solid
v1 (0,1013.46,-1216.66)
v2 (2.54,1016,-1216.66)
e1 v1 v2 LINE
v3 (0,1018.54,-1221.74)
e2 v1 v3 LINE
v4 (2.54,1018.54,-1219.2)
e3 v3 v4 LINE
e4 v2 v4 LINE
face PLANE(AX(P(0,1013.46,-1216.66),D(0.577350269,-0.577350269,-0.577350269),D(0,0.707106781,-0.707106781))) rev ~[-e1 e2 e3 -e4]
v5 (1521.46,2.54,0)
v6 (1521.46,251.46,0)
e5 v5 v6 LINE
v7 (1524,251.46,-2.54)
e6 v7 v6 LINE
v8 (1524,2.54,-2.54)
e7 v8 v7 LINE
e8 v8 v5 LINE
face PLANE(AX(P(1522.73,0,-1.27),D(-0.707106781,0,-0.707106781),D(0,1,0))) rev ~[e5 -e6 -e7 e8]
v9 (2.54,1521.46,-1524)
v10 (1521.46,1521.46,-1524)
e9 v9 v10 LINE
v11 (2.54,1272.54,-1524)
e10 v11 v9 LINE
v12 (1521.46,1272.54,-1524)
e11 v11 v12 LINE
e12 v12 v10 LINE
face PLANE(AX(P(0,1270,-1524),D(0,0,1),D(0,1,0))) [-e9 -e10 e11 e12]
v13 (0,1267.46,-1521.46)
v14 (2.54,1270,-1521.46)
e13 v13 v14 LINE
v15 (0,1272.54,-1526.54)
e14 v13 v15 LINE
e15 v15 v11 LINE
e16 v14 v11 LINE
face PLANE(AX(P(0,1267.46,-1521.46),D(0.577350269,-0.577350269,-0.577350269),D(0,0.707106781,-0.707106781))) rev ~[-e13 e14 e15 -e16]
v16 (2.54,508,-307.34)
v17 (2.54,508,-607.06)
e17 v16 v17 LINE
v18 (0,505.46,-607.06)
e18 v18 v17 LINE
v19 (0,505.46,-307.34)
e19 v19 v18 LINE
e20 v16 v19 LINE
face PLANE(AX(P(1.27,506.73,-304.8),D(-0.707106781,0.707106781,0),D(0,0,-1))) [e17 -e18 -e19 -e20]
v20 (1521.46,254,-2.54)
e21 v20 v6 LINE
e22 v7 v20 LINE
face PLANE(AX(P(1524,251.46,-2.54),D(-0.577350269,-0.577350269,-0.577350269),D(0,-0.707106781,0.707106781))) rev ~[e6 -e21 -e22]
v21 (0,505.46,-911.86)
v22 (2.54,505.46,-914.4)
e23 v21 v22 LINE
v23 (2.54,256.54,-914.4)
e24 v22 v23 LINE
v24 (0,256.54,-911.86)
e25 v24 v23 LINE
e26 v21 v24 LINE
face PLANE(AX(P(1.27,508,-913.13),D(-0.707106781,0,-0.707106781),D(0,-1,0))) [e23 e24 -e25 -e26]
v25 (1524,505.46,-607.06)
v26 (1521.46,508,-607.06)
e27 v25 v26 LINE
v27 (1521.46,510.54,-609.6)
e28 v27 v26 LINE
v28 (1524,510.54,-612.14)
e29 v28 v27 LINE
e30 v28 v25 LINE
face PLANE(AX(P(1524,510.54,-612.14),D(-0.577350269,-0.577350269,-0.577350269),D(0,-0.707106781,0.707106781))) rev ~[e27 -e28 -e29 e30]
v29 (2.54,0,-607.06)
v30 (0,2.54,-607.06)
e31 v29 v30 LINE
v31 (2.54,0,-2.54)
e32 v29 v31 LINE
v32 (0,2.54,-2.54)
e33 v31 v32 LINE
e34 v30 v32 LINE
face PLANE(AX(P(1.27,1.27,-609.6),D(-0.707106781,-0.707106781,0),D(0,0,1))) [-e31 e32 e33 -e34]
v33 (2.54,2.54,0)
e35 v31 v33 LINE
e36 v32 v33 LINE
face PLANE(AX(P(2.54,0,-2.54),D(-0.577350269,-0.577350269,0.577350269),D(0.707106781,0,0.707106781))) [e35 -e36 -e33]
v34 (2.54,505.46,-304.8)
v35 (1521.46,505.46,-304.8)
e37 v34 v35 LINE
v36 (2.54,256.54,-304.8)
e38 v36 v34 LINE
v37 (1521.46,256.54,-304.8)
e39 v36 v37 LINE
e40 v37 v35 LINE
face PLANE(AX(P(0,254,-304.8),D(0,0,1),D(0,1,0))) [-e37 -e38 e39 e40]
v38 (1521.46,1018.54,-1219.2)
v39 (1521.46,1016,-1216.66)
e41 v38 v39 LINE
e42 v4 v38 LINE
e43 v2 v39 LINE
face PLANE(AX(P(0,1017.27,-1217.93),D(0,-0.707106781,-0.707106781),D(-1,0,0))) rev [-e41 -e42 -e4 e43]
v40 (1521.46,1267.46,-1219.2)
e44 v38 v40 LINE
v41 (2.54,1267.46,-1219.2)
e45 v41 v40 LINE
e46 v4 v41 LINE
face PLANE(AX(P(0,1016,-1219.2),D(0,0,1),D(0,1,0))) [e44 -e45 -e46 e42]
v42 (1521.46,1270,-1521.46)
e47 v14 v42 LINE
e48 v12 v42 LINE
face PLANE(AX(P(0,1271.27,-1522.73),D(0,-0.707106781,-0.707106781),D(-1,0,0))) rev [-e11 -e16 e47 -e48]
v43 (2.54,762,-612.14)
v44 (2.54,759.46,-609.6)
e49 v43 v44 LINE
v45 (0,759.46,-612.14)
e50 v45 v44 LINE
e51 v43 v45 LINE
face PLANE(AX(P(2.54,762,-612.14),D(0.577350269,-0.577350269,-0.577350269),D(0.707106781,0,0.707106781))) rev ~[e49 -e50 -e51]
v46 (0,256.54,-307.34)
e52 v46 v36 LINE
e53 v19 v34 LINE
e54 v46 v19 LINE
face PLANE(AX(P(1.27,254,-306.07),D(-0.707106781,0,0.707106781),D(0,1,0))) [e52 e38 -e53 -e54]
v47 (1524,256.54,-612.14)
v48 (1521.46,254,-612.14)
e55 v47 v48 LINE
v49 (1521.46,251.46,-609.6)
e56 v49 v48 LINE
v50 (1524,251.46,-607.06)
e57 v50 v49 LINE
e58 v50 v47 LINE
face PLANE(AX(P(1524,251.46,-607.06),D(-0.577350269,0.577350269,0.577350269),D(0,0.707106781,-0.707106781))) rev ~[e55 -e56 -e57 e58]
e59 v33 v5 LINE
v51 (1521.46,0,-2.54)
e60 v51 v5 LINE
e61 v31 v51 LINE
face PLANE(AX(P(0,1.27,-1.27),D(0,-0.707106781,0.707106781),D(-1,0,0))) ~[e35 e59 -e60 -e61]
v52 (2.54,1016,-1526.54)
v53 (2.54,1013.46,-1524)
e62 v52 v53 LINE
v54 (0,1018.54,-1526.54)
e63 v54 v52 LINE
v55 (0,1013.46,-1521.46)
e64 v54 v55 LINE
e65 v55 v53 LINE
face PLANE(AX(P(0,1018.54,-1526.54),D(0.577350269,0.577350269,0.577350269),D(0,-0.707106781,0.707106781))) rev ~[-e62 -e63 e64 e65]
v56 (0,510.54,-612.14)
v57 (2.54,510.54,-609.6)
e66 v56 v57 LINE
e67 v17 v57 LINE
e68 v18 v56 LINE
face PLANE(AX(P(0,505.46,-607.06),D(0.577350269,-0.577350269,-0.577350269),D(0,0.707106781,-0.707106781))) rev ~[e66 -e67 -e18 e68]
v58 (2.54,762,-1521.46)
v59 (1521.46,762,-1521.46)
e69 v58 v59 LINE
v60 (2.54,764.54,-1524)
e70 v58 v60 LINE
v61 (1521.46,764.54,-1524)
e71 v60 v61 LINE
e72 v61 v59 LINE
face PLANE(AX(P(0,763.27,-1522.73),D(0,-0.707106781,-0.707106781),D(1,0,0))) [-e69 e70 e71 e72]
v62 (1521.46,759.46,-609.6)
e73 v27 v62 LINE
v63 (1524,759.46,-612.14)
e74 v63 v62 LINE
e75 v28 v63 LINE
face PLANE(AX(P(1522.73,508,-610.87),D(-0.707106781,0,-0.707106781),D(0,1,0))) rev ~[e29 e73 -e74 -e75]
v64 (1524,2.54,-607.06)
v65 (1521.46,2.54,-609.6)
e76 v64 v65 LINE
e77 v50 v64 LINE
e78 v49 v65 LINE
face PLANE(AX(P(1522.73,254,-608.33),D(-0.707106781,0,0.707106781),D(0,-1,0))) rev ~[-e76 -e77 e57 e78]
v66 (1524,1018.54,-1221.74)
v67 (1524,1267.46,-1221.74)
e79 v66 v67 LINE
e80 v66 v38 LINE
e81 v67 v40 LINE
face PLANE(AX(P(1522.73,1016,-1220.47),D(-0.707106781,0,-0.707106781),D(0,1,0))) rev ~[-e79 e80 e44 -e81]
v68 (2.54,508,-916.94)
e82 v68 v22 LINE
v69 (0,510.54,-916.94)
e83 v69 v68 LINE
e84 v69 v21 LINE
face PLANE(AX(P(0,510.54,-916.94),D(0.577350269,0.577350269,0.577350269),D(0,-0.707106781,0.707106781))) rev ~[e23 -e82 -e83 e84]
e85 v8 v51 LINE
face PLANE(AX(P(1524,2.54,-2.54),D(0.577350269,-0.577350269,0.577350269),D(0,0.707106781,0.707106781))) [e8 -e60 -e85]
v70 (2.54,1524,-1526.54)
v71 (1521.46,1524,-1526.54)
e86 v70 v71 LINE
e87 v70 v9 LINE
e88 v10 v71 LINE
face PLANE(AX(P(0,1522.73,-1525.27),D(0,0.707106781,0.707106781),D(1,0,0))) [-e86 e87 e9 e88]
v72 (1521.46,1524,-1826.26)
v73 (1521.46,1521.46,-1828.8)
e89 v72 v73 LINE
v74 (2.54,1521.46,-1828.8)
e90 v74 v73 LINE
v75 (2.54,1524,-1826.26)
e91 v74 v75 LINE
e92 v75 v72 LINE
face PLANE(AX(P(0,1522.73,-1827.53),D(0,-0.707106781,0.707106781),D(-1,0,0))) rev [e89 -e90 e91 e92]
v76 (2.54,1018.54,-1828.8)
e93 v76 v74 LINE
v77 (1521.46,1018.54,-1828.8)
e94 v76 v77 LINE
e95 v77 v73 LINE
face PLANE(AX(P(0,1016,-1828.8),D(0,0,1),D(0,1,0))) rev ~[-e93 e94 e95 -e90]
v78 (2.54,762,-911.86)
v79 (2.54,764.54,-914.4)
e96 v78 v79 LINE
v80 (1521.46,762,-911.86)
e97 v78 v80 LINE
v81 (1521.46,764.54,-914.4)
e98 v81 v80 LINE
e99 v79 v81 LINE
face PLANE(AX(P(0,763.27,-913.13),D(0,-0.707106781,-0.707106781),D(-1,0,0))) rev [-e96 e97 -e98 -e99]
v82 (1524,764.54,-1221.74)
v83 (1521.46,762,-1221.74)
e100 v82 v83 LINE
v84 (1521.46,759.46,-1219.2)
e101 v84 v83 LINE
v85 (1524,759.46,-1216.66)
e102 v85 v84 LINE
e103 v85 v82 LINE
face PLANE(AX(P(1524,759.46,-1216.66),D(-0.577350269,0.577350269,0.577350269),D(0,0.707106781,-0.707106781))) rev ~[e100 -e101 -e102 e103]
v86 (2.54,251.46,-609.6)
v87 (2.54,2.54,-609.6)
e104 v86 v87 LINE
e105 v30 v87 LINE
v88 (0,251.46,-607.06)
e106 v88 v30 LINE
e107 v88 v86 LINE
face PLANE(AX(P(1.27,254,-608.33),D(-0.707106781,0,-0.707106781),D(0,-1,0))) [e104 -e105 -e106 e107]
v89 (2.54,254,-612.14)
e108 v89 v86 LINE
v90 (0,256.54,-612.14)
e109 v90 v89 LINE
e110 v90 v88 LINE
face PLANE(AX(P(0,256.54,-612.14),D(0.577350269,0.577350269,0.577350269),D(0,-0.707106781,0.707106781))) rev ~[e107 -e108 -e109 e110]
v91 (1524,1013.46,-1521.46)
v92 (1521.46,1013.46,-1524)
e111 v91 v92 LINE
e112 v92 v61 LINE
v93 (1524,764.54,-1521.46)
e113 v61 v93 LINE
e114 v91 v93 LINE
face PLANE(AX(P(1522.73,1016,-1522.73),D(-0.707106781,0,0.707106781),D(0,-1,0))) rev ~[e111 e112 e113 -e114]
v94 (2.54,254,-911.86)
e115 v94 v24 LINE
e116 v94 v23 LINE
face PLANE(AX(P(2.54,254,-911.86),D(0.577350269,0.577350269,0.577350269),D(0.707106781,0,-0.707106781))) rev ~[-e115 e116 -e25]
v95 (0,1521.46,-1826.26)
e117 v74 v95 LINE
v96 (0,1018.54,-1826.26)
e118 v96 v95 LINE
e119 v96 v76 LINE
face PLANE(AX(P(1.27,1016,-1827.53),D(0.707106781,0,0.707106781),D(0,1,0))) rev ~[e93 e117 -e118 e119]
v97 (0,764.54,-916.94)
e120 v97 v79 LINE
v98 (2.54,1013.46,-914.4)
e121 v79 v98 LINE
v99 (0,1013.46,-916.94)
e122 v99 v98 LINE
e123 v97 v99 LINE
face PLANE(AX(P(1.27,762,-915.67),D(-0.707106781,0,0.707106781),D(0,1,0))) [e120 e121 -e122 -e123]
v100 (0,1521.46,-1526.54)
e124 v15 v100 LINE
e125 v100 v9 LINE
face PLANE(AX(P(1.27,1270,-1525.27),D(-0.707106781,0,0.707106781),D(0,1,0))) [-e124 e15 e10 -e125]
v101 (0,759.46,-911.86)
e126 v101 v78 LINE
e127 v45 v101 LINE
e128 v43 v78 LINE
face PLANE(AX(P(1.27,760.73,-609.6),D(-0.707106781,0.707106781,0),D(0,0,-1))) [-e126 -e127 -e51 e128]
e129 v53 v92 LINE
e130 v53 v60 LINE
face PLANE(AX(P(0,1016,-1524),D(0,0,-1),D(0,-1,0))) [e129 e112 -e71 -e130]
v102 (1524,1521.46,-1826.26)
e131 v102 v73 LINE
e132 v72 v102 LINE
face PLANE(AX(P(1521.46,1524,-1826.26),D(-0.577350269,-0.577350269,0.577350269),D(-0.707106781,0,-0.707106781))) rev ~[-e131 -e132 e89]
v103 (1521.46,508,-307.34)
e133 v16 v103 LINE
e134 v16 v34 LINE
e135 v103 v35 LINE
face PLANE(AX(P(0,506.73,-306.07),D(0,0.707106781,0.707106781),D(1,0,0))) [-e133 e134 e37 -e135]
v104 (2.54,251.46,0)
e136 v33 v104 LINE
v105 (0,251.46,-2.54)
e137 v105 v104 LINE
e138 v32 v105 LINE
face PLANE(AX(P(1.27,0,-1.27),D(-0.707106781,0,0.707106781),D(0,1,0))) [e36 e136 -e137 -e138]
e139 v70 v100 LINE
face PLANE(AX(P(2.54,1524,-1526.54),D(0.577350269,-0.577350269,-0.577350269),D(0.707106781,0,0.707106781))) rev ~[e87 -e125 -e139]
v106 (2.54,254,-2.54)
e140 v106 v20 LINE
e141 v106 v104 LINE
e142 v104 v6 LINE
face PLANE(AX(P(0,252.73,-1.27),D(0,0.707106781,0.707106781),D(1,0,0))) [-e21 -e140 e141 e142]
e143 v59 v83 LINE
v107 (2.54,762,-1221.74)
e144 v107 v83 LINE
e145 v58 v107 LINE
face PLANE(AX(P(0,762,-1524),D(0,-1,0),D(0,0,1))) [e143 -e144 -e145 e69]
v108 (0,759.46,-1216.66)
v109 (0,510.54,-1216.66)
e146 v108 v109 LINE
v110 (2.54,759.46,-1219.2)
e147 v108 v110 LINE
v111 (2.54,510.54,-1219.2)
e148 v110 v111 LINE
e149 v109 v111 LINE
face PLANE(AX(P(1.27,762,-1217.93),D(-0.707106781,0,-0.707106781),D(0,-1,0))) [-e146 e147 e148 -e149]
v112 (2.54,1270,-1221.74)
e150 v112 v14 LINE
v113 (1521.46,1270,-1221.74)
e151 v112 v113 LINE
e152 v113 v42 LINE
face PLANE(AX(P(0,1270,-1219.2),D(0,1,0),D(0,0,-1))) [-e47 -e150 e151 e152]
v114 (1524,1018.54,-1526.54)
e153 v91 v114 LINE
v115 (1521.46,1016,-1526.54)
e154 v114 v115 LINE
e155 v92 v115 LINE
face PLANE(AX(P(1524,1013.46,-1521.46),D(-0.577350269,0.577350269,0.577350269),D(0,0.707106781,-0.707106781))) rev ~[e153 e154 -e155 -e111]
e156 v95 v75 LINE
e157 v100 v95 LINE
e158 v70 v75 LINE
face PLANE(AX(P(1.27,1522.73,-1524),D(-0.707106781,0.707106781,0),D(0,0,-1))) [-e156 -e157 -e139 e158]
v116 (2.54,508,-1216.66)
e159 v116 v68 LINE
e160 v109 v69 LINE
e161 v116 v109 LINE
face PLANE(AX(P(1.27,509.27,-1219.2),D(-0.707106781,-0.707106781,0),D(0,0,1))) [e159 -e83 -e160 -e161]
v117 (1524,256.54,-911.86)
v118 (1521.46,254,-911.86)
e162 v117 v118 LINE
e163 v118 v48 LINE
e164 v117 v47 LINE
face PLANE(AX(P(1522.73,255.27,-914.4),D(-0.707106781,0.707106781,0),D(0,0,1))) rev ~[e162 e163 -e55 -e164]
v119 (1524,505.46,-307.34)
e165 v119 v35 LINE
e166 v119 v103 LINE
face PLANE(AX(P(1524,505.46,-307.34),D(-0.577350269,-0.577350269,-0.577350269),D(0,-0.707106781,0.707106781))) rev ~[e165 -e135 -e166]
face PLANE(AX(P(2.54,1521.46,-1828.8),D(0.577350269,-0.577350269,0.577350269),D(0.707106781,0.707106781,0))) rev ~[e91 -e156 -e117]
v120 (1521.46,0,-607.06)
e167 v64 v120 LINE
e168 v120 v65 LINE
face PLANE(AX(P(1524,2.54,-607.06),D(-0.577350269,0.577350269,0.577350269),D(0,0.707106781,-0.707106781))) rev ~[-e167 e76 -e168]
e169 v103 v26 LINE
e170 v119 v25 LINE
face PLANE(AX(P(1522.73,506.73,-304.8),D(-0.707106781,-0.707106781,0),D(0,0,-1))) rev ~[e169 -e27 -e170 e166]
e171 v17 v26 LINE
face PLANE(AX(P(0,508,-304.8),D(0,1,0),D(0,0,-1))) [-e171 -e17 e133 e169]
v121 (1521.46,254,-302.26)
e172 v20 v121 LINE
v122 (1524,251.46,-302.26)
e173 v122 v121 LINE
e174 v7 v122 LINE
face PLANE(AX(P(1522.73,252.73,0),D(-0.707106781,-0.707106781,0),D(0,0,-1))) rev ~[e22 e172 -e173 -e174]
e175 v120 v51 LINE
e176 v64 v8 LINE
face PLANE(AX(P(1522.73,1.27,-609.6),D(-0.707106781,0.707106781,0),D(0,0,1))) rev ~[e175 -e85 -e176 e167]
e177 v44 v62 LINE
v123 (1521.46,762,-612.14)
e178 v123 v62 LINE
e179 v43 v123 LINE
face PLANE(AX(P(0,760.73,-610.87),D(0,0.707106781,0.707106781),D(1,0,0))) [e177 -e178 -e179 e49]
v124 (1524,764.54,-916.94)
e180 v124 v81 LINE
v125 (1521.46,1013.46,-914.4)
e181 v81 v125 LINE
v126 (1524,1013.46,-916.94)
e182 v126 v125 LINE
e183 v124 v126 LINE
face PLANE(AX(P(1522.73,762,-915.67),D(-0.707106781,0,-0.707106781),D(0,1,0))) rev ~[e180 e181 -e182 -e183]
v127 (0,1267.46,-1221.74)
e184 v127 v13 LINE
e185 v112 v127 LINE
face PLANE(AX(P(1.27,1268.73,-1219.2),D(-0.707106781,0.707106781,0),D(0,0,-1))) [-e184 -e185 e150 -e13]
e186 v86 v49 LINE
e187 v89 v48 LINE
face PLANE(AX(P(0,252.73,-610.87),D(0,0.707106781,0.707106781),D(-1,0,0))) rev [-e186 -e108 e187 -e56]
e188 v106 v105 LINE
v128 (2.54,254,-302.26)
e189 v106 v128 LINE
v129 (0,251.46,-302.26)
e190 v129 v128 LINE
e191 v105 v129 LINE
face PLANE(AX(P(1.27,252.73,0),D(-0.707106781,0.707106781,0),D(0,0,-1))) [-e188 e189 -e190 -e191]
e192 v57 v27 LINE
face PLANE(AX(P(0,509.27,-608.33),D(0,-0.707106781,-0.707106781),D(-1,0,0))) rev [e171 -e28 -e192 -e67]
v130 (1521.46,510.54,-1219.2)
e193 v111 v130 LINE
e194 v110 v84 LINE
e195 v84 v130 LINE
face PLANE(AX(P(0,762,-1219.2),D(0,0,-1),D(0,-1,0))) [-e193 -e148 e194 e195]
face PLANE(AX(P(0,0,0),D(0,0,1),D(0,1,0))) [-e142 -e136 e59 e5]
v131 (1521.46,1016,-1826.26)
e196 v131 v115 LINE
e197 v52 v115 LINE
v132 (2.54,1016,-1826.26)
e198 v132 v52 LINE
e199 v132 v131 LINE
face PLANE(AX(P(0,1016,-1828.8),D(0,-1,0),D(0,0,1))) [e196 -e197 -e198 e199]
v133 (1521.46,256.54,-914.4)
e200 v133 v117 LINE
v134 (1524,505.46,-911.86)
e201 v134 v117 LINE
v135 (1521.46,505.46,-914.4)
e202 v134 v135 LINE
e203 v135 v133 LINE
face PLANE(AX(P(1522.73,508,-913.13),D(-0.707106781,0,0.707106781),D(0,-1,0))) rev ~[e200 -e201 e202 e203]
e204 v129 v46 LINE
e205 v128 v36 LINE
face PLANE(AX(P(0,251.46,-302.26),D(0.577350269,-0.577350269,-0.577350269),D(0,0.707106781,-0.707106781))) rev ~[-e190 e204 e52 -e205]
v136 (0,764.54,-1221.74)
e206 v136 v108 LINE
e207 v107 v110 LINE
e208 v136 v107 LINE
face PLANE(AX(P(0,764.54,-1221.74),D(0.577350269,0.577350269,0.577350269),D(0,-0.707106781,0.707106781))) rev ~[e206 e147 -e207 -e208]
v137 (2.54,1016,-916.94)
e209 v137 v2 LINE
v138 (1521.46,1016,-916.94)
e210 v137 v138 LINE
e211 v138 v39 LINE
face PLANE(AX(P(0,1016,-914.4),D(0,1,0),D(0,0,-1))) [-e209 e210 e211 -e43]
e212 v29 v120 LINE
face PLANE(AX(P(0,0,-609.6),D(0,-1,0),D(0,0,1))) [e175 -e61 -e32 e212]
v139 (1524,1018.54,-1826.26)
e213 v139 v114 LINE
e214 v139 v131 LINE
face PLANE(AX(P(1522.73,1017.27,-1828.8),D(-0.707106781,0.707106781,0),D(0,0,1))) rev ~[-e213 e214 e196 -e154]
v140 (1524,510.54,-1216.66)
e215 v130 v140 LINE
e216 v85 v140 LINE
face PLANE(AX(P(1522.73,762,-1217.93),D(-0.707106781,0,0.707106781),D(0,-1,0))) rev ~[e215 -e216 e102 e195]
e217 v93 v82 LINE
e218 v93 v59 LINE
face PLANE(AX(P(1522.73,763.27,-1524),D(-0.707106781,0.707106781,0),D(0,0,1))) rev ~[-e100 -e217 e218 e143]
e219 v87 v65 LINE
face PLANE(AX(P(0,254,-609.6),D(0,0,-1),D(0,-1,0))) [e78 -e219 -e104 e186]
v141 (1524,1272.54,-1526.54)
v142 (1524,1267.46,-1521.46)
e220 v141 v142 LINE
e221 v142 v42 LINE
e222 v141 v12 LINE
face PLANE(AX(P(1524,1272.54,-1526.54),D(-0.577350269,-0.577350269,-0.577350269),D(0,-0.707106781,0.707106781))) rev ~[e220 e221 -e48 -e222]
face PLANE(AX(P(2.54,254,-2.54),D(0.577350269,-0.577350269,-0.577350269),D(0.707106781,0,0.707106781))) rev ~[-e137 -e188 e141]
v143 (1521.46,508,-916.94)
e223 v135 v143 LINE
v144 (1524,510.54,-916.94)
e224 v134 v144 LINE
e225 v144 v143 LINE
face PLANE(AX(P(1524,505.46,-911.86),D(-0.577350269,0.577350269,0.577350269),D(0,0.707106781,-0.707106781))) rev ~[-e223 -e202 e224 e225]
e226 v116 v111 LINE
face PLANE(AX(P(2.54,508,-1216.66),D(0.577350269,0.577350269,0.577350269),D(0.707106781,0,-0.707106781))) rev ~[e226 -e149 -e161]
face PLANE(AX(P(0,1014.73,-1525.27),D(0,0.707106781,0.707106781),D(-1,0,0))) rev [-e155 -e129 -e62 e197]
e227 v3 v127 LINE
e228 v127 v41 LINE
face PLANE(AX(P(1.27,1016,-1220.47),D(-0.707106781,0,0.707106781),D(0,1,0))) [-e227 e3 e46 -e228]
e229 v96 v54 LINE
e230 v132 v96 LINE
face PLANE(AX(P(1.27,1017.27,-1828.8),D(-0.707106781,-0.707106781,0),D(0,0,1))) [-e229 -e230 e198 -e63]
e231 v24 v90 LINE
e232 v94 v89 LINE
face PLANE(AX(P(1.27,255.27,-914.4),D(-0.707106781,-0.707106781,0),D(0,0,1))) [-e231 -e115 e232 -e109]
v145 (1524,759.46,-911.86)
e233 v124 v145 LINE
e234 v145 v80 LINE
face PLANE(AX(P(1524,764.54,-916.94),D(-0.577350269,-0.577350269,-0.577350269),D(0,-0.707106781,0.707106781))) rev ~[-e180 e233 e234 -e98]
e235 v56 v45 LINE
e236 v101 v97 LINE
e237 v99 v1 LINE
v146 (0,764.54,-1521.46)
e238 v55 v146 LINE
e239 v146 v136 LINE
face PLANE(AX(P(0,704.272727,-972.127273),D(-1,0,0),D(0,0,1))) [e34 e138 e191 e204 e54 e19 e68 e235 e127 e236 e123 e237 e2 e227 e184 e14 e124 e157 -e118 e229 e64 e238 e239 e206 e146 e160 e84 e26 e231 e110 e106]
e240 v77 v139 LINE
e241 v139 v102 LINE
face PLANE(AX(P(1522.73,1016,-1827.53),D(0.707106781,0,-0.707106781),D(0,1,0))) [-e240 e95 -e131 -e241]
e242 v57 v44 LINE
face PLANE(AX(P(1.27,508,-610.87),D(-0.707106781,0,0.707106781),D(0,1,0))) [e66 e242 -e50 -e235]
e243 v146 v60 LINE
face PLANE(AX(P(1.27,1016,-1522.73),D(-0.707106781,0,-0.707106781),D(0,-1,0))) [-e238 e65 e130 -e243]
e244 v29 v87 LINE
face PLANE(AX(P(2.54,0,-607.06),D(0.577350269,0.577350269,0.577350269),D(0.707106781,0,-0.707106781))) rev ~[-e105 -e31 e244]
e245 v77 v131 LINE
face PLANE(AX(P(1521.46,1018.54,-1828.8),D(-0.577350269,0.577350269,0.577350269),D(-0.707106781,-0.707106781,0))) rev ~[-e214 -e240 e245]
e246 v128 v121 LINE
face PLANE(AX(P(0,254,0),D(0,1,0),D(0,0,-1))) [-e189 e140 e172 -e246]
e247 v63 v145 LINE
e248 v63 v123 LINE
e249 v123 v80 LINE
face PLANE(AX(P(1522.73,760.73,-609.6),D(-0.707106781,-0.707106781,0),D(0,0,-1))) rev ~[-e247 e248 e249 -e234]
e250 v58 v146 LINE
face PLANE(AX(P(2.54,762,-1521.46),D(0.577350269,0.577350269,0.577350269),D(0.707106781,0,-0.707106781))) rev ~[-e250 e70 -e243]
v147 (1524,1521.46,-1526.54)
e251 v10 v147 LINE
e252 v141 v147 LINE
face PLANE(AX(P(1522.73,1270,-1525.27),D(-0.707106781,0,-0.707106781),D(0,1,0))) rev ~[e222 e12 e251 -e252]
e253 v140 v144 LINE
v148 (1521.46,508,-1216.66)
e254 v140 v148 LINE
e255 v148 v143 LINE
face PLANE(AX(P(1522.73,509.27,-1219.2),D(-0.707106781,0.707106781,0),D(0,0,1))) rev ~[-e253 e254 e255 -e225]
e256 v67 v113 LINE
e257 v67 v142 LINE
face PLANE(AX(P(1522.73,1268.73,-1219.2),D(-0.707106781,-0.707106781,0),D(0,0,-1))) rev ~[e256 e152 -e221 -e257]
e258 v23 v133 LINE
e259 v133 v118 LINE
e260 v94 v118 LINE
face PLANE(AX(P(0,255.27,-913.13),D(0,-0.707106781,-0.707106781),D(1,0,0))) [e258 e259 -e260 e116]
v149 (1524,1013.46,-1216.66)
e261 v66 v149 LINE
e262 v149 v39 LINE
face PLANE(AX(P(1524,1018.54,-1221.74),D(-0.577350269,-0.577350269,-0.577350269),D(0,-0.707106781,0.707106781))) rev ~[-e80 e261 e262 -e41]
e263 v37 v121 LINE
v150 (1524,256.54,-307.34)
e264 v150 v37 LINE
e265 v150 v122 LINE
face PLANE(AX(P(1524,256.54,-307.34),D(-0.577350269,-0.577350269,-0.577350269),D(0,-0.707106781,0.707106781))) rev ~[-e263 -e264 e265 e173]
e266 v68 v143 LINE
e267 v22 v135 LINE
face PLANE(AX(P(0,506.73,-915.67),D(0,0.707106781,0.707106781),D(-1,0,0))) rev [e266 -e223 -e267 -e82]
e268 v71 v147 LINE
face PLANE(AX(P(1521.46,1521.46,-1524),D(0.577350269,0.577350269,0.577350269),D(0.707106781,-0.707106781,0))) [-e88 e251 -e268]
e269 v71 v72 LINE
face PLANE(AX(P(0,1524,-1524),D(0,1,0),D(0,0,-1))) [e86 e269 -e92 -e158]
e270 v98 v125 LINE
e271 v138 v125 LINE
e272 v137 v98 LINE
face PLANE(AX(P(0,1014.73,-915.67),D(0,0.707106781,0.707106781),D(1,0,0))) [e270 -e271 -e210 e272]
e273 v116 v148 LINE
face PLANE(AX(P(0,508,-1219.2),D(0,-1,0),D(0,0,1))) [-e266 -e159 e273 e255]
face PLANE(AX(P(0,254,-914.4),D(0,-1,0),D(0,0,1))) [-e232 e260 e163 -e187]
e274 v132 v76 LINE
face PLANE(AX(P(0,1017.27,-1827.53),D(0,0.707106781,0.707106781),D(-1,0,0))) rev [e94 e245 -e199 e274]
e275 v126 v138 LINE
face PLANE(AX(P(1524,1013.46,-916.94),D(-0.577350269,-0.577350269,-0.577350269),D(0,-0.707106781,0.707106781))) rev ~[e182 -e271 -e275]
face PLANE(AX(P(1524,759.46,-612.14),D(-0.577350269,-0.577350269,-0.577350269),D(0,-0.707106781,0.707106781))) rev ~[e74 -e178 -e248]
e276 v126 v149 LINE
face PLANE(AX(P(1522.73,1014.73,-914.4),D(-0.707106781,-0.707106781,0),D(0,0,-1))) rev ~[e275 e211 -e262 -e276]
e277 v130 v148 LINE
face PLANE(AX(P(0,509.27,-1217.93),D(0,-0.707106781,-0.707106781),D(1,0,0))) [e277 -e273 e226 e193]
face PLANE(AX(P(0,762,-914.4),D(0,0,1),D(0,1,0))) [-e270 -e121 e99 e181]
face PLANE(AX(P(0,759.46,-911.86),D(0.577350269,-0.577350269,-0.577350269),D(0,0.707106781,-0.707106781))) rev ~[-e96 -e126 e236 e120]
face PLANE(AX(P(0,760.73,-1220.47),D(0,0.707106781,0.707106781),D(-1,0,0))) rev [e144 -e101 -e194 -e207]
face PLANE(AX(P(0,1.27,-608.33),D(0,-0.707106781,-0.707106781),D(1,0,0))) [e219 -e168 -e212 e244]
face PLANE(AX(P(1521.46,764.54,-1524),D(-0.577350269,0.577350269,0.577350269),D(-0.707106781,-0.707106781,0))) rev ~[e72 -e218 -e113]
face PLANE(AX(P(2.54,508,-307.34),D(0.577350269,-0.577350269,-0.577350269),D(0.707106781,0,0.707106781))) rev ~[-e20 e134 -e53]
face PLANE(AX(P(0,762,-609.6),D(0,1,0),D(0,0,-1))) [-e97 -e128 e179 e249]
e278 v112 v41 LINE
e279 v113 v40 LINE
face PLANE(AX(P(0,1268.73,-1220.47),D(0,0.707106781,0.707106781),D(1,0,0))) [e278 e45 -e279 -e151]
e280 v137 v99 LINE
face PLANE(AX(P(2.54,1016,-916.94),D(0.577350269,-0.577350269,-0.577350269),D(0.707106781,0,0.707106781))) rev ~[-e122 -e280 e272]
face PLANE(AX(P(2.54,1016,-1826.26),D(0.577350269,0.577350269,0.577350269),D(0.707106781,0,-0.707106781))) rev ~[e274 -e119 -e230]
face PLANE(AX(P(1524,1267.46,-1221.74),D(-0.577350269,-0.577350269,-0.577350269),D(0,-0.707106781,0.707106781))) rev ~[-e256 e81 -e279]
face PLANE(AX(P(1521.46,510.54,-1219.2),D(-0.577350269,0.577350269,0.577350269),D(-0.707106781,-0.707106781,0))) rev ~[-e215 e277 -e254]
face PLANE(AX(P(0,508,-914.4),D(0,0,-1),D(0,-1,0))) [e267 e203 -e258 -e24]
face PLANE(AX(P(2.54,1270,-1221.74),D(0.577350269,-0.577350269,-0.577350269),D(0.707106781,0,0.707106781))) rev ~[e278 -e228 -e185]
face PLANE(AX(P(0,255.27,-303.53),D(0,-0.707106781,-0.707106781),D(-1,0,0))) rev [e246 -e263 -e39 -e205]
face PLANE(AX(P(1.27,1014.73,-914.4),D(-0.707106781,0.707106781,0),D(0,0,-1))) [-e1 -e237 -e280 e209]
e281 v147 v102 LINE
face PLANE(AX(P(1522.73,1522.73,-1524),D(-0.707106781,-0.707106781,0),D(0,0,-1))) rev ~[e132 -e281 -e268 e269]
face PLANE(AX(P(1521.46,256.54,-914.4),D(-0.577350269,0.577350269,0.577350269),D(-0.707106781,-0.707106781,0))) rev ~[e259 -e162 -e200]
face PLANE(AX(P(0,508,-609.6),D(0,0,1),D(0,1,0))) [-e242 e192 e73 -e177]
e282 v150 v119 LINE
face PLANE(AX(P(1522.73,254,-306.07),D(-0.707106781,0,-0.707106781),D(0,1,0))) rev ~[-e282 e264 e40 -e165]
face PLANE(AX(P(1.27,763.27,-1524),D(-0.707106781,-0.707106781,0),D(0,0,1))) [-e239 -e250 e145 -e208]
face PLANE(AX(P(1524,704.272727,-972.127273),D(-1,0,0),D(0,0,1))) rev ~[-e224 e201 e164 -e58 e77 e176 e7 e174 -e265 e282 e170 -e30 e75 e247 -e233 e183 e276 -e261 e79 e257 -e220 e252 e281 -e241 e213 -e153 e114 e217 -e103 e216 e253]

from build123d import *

# Parameters (mm, degrees)
BOSS_EXTRUDE2_DEPTH = 1524
CHAMFER1_SIZE       = 2.54


with BuildPart() as part:
    # Sketch3 → Boss-Extrude2 (new body)
    with BuildSketch(Plane(origin=(0, 0, 0), x_dir=(0, 0, -1), z_dir=(1, 0, 0))):
        Polygon((0, 0), (0, 254), (304.8, 254), (304.8, 508), (609.6, 508), (609.6, 762), (914.4, 762), (914.4, 1016), (1219.2, 1016), (1219.2, 1270), (1524, 1270), (1524, 1524), (1828.8, 1524), (1828.8, 1270), (1828.8, 1016), (1524, 1016), (1524, 762), (1219.2, 762), (1219.2, 508), (914.4, 508), (914.4, 254), (609.6, 254), (609.6, 0), align=None)
    extrude(amount=BOSS_EXTRUDE2_DEPTH)

    # Chamfer1
    chamfer1_edges = [part.edges().sort_by_distance(p)[0] for p in [
        (1524, 254, -762),
        (1524, 381, -914.4),
        (1524, 508, -1066.8),
        (1524, 635, -1219.2),
        (0, 127, 0),
        (0, 254, -152.4),
        (0, 381, -304.8),
        (0, 508, -457.2),
        (0, 635, -609.6),
        (0, 762, -762),
        (1524, 762, -1371.6),
        (0, 889, -914.4),
        (0, 1016, -1066.8),
        (0, 1143, -1219.2),
        (0, 1270, -1371.6),
        (0, 1397, -1524),
        (0, 1524, -1676.4),
        (0, 1270, -1828.8),
        (1524, 889, -1524),
        (0, 1016, -1676.4),
        (0, 889, -1524),
        (0, 762, -1371.6),
        (0, 635, -1219.2),
        (0, 508, -1066.8),
        (0, 381, -914.4),
        (0, 254, -762),
        (1524, 1016, -1676.4),
        (0, 127, -609.6),
        (0, 0, -304.8),
        (1524, 1270, -1828.8),
        (762, 0, 0),
        (762, 254, 0),
        (762, 254, -304.8),
        (762, 508, -304.8),
        (762, 508, -609.6),
        (762, 762, -609.6),
        (762, 762, -914.4),
        (762, 1016, -914.4),
        (762, 1016, -1219.2),
        (762, 1270, -1219.2),
        (762, 1270, -1524),
        (1524, 1524, -1676.4),
        (762, 1524, -1524),
        (762, 1524, -1828.8),
        (762, 1016, -1828.8),
        (762, 1016, -1524),
        (762, 762, -1524),
        (762, 762, -1219.2),
        (762, 508, -1219.2),
        (762, 508, -914.4),
        (762, 254, -914.4),
        (762, 254, -609.6),
        (762, 0, -609.6),
        (1524, 0, -304.8),
        (1524, 1397, -1524),
        (1524, 1270, -1371.6),
        (1524, 1143, -1219.2),
        (1524, 1016, -1066.8),
        (1524, 889, -914.4),
        (1524, 762, -762),
        (1524, 635, -609.6),
        (1524, 508, -457.2),
        (1524, 381, -304.8),
        (1524, 254, -152.4),
        (1524, 127, -609.6),
        (1524, 127, 0),
    ]]
    chamfer(chamfer1_edges, length=CHAMFER1_SIZE)


solid = part.part
